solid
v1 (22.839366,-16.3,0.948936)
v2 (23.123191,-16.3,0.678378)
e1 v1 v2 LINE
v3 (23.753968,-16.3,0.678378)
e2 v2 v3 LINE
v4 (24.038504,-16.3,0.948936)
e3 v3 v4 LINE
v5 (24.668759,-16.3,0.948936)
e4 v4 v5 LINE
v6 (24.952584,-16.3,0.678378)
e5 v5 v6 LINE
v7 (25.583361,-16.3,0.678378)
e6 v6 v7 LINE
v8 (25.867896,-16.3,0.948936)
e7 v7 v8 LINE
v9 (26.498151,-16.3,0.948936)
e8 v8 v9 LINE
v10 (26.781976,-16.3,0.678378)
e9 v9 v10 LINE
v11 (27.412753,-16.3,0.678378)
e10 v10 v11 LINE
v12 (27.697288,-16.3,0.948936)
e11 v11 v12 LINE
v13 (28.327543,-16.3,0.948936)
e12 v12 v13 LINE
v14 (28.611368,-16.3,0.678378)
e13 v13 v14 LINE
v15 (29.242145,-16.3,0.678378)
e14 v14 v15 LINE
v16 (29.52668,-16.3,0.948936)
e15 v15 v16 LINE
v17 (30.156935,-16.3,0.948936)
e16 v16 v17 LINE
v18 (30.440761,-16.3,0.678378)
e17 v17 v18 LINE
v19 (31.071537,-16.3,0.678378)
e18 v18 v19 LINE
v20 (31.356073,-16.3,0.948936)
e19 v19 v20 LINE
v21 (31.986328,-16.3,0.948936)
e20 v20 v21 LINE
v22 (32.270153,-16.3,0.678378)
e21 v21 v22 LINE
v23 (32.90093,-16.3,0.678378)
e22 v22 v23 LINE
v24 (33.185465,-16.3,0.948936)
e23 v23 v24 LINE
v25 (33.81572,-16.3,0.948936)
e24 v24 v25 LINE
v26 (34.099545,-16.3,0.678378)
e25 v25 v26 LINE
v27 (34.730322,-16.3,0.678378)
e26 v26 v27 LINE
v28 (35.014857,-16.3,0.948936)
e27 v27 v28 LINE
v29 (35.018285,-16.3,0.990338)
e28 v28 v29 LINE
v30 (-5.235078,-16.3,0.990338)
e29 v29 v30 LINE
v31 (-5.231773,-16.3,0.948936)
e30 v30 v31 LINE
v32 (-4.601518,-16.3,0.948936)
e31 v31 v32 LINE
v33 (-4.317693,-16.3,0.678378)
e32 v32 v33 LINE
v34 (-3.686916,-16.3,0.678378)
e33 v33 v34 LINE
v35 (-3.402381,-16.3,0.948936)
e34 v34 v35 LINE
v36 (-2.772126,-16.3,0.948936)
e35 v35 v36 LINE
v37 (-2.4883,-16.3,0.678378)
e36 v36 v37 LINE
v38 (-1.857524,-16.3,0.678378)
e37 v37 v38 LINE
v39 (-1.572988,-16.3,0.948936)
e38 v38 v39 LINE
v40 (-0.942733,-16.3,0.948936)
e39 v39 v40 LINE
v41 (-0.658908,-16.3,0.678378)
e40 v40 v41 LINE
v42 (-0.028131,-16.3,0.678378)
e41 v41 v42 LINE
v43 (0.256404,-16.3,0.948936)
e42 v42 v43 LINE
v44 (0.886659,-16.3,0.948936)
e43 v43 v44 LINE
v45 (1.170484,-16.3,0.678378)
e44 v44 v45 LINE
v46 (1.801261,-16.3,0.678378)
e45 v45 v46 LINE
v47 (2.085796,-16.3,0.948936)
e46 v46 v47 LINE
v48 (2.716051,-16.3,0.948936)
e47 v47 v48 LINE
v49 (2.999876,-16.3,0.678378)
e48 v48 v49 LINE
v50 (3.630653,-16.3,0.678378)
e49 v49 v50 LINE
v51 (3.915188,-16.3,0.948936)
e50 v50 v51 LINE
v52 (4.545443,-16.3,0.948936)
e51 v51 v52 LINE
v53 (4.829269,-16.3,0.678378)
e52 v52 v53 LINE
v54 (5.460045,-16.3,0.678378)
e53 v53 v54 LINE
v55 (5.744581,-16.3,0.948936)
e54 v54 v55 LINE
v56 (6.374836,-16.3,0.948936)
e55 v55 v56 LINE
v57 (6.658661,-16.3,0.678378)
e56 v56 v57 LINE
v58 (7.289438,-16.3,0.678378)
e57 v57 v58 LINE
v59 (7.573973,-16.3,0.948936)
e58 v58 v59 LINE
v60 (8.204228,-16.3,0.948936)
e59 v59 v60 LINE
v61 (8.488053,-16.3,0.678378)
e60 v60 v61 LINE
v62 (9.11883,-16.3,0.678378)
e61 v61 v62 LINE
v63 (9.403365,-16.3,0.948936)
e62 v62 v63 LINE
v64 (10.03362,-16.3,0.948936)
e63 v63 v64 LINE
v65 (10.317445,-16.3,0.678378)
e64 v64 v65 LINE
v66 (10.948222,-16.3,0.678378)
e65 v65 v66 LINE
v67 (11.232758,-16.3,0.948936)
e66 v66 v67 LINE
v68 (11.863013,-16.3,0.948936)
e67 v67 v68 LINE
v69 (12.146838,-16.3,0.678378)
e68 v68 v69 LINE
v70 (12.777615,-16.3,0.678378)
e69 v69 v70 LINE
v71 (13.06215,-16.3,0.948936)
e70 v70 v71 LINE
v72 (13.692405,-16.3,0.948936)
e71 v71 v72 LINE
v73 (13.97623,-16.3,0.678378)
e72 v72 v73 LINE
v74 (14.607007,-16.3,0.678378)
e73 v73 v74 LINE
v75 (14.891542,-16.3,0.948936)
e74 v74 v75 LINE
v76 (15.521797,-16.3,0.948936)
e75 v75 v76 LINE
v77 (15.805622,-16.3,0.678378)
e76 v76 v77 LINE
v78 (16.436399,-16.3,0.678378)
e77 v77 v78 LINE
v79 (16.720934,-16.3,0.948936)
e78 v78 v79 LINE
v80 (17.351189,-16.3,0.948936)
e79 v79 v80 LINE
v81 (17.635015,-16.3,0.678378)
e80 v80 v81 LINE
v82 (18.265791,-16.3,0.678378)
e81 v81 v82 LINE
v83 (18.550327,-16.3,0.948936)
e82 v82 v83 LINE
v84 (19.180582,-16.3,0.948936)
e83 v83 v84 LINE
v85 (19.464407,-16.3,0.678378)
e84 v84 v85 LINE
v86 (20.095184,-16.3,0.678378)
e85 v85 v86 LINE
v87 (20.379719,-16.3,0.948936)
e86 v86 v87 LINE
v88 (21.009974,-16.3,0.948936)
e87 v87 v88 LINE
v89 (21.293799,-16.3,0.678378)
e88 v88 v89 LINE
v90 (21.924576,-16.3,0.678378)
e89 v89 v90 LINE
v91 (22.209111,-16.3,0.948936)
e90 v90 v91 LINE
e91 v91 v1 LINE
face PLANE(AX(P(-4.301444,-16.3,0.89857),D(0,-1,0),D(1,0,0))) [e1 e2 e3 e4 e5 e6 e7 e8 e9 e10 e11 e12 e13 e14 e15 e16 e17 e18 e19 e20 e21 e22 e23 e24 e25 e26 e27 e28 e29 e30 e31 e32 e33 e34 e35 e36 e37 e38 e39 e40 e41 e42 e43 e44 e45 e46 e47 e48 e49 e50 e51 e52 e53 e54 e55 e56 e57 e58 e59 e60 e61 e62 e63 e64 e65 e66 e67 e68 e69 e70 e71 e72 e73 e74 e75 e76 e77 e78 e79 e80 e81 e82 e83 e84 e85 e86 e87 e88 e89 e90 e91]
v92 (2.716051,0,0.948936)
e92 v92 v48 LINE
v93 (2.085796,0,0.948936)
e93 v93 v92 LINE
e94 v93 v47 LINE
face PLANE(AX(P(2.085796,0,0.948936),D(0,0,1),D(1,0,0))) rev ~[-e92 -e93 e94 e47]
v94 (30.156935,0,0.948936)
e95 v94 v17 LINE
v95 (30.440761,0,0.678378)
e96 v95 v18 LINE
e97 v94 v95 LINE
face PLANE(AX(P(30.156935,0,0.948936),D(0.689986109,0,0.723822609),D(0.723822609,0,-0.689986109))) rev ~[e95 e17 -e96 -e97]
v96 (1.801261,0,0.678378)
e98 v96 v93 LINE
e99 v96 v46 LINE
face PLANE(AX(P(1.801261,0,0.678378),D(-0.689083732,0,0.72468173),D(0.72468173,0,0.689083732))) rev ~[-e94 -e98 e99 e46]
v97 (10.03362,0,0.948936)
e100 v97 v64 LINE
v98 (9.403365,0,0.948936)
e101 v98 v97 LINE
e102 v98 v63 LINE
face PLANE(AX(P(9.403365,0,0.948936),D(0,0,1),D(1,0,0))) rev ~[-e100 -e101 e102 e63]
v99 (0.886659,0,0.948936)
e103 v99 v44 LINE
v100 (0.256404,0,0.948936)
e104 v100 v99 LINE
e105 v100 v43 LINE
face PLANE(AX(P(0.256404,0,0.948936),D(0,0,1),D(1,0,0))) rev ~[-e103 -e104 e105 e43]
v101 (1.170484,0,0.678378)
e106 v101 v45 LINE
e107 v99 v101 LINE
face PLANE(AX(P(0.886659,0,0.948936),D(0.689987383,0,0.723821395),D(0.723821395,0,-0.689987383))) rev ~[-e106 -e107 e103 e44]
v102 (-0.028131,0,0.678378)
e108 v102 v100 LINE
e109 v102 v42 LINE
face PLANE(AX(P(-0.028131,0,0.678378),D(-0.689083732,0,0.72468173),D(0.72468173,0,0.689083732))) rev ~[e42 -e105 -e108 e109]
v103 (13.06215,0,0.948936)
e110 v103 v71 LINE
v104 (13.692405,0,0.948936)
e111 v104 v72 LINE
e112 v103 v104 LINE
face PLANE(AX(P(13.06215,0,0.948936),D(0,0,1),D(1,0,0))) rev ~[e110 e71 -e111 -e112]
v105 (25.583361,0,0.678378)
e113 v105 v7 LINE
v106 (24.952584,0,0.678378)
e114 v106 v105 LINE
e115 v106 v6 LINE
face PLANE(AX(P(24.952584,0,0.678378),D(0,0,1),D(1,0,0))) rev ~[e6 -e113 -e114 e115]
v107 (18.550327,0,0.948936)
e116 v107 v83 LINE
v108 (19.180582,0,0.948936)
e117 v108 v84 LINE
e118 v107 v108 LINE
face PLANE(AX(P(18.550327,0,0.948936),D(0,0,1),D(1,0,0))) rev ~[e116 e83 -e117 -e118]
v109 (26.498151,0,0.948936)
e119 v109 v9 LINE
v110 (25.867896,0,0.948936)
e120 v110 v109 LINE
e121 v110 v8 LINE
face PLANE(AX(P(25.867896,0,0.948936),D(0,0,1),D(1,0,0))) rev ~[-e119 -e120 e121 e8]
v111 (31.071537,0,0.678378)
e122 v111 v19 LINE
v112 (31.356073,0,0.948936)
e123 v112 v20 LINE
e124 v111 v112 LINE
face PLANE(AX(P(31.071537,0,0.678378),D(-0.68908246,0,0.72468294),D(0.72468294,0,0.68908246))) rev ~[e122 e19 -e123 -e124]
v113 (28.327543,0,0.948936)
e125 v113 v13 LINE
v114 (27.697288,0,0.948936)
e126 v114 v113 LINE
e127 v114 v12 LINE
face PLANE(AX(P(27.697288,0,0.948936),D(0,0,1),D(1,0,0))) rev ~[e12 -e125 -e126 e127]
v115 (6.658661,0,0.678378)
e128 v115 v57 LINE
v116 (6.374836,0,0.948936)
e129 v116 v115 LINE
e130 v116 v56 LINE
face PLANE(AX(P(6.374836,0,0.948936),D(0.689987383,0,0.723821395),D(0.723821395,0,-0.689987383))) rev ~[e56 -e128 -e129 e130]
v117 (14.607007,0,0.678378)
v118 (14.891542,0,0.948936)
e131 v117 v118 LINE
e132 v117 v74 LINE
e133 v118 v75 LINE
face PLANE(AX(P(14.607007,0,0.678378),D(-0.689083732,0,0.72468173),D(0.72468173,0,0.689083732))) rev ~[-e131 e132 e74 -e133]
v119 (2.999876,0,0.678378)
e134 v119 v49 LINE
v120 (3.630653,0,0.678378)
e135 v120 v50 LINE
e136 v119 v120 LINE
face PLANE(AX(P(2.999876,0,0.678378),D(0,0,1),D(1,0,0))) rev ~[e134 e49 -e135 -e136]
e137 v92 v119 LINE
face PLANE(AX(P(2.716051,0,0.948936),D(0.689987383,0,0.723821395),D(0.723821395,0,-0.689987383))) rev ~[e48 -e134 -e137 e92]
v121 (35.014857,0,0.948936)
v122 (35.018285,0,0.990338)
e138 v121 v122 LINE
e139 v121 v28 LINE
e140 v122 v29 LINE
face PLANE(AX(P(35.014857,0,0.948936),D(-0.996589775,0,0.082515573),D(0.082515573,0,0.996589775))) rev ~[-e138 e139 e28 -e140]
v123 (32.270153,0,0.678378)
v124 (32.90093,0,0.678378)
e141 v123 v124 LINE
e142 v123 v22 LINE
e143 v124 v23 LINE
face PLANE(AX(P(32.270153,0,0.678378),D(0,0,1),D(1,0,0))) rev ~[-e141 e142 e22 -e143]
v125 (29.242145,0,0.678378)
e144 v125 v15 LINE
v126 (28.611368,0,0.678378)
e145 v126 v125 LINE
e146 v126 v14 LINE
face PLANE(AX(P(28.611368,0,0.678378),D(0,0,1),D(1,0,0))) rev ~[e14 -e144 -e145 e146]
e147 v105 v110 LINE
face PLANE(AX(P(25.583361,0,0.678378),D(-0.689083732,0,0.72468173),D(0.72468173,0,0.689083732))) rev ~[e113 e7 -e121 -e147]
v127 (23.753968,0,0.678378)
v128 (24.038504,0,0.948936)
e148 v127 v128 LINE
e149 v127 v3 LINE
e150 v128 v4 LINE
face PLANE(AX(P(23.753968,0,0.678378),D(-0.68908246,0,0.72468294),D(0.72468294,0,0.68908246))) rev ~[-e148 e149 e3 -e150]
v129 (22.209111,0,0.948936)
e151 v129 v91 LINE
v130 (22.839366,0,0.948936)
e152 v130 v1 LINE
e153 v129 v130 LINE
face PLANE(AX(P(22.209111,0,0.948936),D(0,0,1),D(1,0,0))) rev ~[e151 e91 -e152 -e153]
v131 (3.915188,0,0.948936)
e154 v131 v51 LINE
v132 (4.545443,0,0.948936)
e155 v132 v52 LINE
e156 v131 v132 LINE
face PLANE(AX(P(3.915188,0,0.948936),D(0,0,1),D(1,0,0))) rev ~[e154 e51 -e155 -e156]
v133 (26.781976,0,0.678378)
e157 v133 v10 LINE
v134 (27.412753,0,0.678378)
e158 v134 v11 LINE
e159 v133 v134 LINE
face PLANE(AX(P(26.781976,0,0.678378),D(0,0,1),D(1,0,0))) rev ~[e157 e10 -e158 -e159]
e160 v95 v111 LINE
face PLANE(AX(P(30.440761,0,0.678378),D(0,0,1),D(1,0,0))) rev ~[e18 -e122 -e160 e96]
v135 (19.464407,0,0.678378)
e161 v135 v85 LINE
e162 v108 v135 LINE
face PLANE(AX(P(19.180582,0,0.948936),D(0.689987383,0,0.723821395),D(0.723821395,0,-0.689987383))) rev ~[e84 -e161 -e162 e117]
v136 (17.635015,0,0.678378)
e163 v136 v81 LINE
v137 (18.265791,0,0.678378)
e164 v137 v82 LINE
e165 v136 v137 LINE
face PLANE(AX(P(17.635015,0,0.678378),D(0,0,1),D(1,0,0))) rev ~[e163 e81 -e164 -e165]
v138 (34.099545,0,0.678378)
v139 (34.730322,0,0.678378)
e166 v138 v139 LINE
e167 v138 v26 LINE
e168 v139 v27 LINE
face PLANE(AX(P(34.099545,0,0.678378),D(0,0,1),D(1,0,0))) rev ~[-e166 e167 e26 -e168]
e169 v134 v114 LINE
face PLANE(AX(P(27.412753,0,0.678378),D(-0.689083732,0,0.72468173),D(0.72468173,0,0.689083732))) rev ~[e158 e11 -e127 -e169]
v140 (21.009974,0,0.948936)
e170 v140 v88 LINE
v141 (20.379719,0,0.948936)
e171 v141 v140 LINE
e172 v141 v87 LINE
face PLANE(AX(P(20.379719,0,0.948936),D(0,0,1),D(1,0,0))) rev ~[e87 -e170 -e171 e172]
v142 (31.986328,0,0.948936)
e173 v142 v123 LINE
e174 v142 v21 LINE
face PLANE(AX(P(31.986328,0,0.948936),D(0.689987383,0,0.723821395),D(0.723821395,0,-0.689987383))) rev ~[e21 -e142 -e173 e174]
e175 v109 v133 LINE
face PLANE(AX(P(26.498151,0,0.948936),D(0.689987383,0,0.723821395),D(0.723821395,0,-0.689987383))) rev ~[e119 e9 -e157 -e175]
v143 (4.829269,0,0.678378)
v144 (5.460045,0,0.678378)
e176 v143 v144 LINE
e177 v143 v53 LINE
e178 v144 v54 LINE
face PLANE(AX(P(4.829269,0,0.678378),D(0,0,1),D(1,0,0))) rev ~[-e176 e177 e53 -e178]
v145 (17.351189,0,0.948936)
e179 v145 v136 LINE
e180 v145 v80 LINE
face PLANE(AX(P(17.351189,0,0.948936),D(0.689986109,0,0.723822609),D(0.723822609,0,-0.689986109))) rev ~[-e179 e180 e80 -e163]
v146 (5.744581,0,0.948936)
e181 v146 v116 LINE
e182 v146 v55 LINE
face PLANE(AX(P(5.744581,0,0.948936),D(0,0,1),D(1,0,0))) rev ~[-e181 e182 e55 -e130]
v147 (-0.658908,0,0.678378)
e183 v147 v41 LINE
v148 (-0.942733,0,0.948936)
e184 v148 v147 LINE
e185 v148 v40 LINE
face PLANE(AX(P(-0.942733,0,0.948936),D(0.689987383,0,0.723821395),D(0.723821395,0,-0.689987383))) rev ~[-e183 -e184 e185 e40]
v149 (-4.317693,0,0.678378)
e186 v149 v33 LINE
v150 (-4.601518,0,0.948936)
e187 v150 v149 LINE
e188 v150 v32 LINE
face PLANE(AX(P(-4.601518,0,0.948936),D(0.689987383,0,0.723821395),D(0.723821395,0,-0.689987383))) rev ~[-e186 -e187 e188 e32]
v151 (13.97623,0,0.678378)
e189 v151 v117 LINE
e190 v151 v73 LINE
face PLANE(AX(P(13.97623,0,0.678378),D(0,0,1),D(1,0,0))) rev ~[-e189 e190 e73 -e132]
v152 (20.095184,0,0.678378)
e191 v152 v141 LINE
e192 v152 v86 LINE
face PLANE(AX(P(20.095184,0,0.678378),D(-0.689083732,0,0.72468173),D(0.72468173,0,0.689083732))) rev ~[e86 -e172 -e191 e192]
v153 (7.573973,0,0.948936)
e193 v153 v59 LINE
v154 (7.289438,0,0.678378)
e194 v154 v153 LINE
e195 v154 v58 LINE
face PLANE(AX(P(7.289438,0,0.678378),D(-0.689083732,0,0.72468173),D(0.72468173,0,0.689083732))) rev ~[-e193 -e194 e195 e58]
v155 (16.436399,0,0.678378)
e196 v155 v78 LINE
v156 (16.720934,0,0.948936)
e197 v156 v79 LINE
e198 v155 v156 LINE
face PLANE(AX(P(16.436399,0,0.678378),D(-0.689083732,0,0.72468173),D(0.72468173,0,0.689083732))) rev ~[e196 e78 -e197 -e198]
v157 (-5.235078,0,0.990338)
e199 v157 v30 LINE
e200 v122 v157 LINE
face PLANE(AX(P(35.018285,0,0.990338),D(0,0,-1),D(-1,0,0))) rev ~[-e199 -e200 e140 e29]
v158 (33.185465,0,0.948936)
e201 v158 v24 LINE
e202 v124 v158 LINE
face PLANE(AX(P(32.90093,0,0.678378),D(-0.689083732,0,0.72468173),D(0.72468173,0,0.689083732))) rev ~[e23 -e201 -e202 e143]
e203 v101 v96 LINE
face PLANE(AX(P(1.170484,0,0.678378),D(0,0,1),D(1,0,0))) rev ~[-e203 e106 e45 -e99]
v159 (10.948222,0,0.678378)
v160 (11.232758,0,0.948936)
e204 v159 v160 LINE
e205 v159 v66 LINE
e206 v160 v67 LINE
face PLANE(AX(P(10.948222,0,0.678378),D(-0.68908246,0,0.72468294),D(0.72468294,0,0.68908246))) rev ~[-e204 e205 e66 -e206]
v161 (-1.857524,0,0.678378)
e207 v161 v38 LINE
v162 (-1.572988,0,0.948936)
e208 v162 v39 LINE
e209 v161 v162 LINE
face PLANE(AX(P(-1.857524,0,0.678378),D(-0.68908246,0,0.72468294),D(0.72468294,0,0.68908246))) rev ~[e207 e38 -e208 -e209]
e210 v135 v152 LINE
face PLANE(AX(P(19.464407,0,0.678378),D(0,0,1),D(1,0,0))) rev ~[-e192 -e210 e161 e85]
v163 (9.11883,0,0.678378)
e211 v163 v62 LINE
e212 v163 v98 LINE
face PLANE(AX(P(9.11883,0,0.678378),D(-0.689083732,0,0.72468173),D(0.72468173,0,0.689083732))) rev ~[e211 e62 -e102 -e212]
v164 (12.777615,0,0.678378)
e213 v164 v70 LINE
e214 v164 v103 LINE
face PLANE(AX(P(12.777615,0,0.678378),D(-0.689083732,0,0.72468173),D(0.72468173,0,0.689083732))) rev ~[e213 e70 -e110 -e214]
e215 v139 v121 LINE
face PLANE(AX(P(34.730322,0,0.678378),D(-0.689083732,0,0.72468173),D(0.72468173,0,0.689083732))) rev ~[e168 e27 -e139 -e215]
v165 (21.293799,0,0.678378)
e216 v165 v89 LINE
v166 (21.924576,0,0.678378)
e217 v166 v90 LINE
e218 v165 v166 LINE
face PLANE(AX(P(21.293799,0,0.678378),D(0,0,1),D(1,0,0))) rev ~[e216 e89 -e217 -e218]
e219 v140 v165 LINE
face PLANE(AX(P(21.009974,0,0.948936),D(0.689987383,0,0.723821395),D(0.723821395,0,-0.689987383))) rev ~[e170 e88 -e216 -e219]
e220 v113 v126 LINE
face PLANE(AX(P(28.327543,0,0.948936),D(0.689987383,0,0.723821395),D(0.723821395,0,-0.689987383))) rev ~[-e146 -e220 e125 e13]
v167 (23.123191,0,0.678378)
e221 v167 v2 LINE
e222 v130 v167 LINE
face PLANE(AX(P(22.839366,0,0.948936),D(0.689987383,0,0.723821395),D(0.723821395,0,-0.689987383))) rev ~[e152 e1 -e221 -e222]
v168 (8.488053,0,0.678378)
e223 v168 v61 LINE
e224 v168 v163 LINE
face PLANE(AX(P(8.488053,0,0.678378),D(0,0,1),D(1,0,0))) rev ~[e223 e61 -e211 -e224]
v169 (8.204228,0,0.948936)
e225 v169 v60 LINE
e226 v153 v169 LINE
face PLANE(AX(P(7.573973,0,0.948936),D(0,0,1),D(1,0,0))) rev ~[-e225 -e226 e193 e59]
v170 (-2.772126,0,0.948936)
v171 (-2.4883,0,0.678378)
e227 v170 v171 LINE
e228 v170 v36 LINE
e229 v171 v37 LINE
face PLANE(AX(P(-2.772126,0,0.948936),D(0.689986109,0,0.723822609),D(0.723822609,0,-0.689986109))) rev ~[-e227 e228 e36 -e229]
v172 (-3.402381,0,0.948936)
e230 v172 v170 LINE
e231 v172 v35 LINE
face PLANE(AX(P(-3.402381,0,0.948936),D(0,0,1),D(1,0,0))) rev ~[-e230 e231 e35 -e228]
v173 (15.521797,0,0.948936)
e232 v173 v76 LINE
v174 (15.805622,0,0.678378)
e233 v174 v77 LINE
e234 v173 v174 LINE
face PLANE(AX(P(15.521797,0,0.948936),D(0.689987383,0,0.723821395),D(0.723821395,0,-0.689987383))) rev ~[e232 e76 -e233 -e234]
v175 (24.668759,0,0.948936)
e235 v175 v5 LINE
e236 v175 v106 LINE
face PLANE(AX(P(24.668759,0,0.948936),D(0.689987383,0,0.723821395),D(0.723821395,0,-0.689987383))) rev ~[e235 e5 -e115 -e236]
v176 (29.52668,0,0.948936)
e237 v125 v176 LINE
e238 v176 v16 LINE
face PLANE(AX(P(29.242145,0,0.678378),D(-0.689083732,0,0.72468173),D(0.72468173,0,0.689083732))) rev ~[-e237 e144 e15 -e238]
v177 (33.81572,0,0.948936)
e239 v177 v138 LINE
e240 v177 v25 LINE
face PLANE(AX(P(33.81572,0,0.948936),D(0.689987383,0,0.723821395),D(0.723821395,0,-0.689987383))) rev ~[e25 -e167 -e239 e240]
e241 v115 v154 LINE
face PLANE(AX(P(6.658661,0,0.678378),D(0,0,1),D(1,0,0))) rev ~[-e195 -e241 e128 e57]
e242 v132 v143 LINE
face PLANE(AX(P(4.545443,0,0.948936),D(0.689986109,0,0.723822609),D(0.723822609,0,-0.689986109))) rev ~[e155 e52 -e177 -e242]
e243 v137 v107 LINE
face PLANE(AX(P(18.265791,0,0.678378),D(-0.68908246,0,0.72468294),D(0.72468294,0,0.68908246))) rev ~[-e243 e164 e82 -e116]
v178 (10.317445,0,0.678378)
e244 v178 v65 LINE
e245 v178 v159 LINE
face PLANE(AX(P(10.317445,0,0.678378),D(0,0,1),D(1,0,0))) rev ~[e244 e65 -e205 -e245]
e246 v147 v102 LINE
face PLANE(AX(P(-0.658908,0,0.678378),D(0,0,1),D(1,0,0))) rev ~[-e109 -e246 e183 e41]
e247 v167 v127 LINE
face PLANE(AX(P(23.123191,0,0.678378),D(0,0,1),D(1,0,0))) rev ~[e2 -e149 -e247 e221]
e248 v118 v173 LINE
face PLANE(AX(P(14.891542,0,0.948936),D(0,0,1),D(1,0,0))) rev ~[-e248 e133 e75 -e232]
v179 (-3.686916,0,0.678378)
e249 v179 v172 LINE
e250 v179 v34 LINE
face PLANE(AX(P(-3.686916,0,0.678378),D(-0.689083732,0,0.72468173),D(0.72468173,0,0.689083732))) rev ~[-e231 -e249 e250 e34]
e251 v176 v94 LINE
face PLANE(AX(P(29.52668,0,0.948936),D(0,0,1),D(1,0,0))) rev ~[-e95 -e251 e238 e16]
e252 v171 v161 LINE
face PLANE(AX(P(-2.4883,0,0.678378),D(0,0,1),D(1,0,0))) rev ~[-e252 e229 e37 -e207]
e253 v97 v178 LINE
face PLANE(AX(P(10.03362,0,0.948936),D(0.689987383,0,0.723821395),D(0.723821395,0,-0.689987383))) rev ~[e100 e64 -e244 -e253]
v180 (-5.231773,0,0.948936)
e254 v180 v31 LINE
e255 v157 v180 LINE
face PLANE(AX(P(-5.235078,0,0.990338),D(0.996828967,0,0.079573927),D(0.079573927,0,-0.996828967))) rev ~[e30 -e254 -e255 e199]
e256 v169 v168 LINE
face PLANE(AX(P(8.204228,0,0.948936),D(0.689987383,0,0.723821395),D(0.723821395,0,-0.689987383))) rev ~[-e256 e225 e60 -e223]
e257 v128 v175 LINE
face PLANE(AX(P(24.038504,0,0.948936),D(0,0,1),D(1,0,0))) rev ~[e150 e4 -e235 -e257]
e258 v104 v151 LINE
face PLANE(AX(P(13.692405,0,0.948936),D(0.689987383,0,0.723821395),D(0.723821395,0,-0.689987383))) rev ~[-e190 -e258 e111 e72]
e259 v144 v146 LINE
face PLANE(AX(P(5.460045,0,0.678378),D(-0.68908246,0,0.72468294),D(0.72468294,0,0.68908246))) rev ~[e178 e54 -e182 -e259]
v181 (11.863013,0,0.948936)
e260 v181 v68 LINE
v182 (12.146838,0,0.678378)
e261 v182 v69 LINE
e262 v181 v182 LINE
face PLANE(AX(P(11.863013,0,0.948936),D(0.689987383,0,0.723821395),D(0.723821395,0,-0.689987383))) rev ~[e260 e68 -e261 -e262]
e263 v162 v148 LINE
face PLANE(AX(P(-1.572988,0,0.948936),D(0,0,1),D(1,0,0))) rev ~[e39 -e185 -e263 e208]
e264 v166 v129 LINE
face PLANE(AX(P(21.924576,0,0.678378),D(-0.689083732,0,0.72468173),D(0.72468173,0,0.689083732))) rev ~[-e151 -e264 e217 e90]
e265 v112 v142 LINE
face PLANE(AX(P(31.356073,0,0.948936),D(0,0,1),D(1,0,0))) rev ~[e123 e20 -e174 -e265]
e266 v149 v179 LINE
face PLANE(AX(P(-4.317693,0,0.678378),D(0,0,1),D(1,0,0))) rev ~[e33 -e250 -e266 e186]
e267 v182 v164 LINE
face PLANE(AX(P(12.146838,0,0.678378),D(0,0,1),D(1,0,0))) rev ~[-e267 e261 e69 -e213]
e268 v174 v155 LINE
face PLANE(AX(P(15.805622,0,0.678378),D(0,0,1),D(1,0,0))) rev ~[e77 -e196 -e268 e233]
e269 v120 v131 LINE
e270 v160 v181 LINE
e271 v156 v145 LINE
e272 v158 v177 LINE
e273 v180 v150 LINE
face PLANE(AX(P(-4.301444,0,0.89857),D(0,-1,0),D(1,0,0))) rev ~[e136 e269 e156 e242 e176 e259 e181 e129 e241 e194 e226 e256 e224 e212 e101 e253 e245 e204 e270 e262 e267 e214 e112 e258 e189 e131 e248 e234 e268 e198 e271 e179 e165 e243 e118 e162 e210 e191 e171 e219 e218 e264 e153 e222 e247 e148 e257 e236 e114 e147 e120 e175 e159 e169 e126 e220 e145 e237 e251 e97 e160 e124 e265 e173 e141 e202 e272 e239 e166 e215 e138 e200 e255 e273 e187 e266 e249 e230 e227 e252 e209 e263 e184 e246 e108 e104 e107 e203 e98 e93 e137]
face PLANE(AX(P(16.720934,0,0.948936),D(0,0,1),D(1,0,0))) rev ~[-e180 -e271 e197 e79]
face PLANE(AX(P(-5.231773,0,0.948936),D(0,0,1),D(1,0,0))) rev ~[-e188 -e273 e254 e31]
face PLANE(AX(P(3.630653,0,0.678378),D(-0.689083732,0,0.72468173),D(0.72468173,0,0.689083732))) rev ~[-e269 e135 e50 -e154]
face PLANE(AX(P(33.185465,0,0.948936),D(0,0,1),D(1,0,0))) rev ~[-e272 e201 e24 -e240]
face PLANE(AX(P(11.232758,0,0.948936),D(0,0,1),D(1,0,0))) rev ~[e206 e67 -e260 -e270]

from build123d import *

# Parameters (mm, degrees)
F1_DEPTH = 16.3


with BuildPart() as f1:
    # F0 (on Front) → F1 (new body)
    with BuildSketch(Plane.XZ):
        Polygon((-3.405686, 0.990338), (-5.235078, 0.990338), (-5.231773, 0.948936), (-4.601518, 0.948936), (-4.317693, 0.678378), (-3.686916, 0.678378), (-3.402381, 0.948936), align=None)
        Polygon((-3.398952, 0.990338), (-3.405686, 0.990338), (-3.402381, 0.948936), align=None)
        Polygon((-1.576294, 0.990338), (-3.398952, 0.990338), (-3.402381, 0.948936), (-2.772126, 0.948936), (-2.4883, 0.678378), (-1.857524, 0.678378), (-1.572988, 0.948936), align=None)
        Polygon((-1.56956, 0.990338), (-1.576294, 0.990338), (-1.572988, 0.948936), align=None)
        Polygon((0.253099, 0.990338), (-1.56956, 0.990338), (-1.572988, 0.948936), (-0.942733, 0.948936), (-0.658908, 0.678378), (-0.028131, 0.678378), (0.256404, 0.948936), align=None)
        Polygon((0.259832, 0.990338), (0.253099, 0.990338), (0.256404, 0.948936), align=None)
        Polygon((2.082491, 0.990338), (0.259832, 0.990338), (0.256404, 0.948936), (0.886659, 0.948936), (1.170484, 0.678378), (1.801261, 0.678378), (2.085796, 0.948936), align=None)
        Polygon((2.089224, 0.990338), (2.082491, 0.990338), (2.085796, 0.948936), align=None)
        Polygon((3.911883, 0.990338), (2.089224, 0.990338), (2.085796, 0.948936), (2.716051, 0.948936), (2.999876, 0.678378), (3.630653, 0.678378), (3.915188, 0.948936), align=None)
        Polygon((3.918617, 0.990338), (3.911883, 0.990338), (3.915188, 0.948936), align=None)
        Polygon((5.741275, 0.990338), (3.918617, 0.990338), (3.915188, 0.948936), (4.545443, 0.948936), (4.829269, 0.678378), (5.460045, 0.678378), (5.744581, 0.948936), align=None)
        Polygon((5.748009, 0.990338), (5.741275, 0.990338), (5.744581, 0.948936), align=None)
        Polygon((7.570668, 0.990338), (5.748009, 0.990338), (5.744581, 0.948936), (6.374836, 0.948936), (6.658661, 0.678378), (7.289438, 0.678378), (7.573973, 0.948936), align=None)
        Polygon((7.577401, 0.990338), (7.570668, 0.990338), (7.573973, 0.948936), align=None)
        Polygon((9.40006, 0.990338), (7.577401, 0.990338), (7.573973, 0.948936), (8.204228, 0.948936), (8.488053, 0.678378), (9.11883, 0.678378), (9.403365, 0.948936), align=None)
        Polygon((9.406793, 0.990338), (9.40006, 0.990338), (9.403365, 0.948936), align=None)
        Polygon((11.229452, 0.990338), (9.406793, 0.990338), (9.403365, 0.948936), (10.03362, 0.948936), (10.317445, 0.678378), (10.948222, 0.678378), (11.232758, 0.948936), align=None)
        Polygon((11.236186, 0.990338), (11.229452, 0.990338), (11.232758, 0.948936), align=None)
        Polygon((13.058844, 0.990338), (11.236186, 0.990338), (11.232758, 0.948936), (11.863013, 0.948936), (12.146838, 0.678378), (12.777615, 0.678378), (13.06215, 0.948936), align=None)
        Polygon((13.065578, 0.990338), (13.058844, 0.990338), (13.06215, 0.948936), align=None)
        Polygon((14.888237, 0.990338), (13.065578, 0.990338), (13.06215, 0.948936), (13.692405, 0.948936), (13.97623, 0.678378), (14.607007, 0.678378), (14.891542, 0.948936), align=None)
        Polygon((14.89497, 0.990338), (14.888237, 0.990338), (14.891542, 0.948936), align=None)
        Polygon((16.717629, 0.990338), (14.89497, 0.990338), (14.891542, 0.948936), (15.521797, 0.948936), (15.805622, 0.678378), (16.436399, 0.678378), (16.720934, 0.948936), align=None)
        Polygon((16.724363, 0.990338), (16.717629, 0.990338), (16.720934, 0.948936), align=None)
        Polygon((18.547021, 0.990338), (16.724363, 0.990338), (16.720934, 0.948936), (17.351189, 0.948936), (17.635015, 0.678378), (18.265791, 0.678378), (18.550327, 0.948936), align=None)
        Polygon((18.553755, 0.990338), (18.547021, 0.990338), (18.550327, 0.948936), align=None)
        Polygon((20.376414, 0.990338), (18.553755, 0.990338), (18.550327, 0.948936), (19.180582, 0.948936), (19.464407, 0.678378), (20.095184, 0.678378), (20.379719, 0.948936), align=None)
        Polygon((20.383147, 0.990338), (20.376414, 0.990338), (20.379719, 0.948936), align=None)
        Polygon((22.205806, 0.990338), (20.383147, 0.990338), (20.379719, 0.948936), (21.009974, 0.948936), (21.293799, 0.678378), (21.924576, 0.678378), (22.209111, 0.948936), align=None)
        Polygon((22.212539, 0.990338), (22.205806, 0.990338), (22.209111, 0.948936), align=None)
        Polygon((24.035198, 0.990338), (22.212539, 0.990338), (22.209111, 0.948936), (22.839366, 0.948936), (23.123191, 0.678378), (23.753968, 0.678378), (24.038504, 0.948936), align=None)
        Polygon((24.041932, 0.990338), (24.035198, 0.990338), (24.038504, 0.948936), align=None)
        Polygon((25.86459, 0.990338), (24.041932, 0.990338), (24.038504, 0.948936), (24.668759, 0.948936), (24.952584, 0.678378), (25.583361, 0.678378), (25.867896, 0.948936), align=None)
        Polygon((25.871324, 0.990338), (25.86459, 0.990338), (25.867896, 0.948936), align=None)
        Polygon((27.693983, 0.990338), (25.871324, 0.990338), (25.867896, 0.948936), (26.498151, 0.948936), (26.781976, 0.678378), (27.412753, 0.678378), (27.697288, 0.948936), align=None)
        Polygon((27.700716, 0.990338), (27.693983, 0.990338), (27.697288, 0.948936), align=None)
        Polygon((29.523375, 0.990338), (27.700716, 0.990338), (27.697288, 0.948936), (28.327543, 0.948936), (28.611368, 0.678378), (29.242145, 0.678378), (29.52668, 0.948936), align=None)
        Polygon((29.530108, 0.990338), (29.523375, 0.990338), (29.52668, 0.948936), align=None)
        Polygon((31.352767, 0.990338), (29.530108, 0.990338), (29.52668, 0.948936), (30.156935, 0.948936), (30.440761, 0.678378), (31.071537, 0.678378), (31.356073, 0.948936), align=None)
        Polygon((31.359501, 0.990338), (31.352767, 0.990338), (31.356073, 0.948936), align=None)
        Polygon((33.18216, 0.990338), (31.359501, 0.990338), (31.356073, 0.948936), (31.986328, 0.948936), (32.270153, 0.678378), (32.90093, 0.678378), (33.185465, 0.948936), align=None)
        Polygon((33.188893, 0.990338), (33.18216, 0.990338), (33.185465, 0.948936), align=None)
        Polygon((35.018285, 0.990338), (33.188893, 0.990338), (33.185465, 0.948936), (33.81572, 0.948936), (34.099545, 0.678378), (34.730322, 0.678378), (35.014857, 0.948936), align=None)
    extrude(amount=F1_DEPTH)


solid = f1.part
